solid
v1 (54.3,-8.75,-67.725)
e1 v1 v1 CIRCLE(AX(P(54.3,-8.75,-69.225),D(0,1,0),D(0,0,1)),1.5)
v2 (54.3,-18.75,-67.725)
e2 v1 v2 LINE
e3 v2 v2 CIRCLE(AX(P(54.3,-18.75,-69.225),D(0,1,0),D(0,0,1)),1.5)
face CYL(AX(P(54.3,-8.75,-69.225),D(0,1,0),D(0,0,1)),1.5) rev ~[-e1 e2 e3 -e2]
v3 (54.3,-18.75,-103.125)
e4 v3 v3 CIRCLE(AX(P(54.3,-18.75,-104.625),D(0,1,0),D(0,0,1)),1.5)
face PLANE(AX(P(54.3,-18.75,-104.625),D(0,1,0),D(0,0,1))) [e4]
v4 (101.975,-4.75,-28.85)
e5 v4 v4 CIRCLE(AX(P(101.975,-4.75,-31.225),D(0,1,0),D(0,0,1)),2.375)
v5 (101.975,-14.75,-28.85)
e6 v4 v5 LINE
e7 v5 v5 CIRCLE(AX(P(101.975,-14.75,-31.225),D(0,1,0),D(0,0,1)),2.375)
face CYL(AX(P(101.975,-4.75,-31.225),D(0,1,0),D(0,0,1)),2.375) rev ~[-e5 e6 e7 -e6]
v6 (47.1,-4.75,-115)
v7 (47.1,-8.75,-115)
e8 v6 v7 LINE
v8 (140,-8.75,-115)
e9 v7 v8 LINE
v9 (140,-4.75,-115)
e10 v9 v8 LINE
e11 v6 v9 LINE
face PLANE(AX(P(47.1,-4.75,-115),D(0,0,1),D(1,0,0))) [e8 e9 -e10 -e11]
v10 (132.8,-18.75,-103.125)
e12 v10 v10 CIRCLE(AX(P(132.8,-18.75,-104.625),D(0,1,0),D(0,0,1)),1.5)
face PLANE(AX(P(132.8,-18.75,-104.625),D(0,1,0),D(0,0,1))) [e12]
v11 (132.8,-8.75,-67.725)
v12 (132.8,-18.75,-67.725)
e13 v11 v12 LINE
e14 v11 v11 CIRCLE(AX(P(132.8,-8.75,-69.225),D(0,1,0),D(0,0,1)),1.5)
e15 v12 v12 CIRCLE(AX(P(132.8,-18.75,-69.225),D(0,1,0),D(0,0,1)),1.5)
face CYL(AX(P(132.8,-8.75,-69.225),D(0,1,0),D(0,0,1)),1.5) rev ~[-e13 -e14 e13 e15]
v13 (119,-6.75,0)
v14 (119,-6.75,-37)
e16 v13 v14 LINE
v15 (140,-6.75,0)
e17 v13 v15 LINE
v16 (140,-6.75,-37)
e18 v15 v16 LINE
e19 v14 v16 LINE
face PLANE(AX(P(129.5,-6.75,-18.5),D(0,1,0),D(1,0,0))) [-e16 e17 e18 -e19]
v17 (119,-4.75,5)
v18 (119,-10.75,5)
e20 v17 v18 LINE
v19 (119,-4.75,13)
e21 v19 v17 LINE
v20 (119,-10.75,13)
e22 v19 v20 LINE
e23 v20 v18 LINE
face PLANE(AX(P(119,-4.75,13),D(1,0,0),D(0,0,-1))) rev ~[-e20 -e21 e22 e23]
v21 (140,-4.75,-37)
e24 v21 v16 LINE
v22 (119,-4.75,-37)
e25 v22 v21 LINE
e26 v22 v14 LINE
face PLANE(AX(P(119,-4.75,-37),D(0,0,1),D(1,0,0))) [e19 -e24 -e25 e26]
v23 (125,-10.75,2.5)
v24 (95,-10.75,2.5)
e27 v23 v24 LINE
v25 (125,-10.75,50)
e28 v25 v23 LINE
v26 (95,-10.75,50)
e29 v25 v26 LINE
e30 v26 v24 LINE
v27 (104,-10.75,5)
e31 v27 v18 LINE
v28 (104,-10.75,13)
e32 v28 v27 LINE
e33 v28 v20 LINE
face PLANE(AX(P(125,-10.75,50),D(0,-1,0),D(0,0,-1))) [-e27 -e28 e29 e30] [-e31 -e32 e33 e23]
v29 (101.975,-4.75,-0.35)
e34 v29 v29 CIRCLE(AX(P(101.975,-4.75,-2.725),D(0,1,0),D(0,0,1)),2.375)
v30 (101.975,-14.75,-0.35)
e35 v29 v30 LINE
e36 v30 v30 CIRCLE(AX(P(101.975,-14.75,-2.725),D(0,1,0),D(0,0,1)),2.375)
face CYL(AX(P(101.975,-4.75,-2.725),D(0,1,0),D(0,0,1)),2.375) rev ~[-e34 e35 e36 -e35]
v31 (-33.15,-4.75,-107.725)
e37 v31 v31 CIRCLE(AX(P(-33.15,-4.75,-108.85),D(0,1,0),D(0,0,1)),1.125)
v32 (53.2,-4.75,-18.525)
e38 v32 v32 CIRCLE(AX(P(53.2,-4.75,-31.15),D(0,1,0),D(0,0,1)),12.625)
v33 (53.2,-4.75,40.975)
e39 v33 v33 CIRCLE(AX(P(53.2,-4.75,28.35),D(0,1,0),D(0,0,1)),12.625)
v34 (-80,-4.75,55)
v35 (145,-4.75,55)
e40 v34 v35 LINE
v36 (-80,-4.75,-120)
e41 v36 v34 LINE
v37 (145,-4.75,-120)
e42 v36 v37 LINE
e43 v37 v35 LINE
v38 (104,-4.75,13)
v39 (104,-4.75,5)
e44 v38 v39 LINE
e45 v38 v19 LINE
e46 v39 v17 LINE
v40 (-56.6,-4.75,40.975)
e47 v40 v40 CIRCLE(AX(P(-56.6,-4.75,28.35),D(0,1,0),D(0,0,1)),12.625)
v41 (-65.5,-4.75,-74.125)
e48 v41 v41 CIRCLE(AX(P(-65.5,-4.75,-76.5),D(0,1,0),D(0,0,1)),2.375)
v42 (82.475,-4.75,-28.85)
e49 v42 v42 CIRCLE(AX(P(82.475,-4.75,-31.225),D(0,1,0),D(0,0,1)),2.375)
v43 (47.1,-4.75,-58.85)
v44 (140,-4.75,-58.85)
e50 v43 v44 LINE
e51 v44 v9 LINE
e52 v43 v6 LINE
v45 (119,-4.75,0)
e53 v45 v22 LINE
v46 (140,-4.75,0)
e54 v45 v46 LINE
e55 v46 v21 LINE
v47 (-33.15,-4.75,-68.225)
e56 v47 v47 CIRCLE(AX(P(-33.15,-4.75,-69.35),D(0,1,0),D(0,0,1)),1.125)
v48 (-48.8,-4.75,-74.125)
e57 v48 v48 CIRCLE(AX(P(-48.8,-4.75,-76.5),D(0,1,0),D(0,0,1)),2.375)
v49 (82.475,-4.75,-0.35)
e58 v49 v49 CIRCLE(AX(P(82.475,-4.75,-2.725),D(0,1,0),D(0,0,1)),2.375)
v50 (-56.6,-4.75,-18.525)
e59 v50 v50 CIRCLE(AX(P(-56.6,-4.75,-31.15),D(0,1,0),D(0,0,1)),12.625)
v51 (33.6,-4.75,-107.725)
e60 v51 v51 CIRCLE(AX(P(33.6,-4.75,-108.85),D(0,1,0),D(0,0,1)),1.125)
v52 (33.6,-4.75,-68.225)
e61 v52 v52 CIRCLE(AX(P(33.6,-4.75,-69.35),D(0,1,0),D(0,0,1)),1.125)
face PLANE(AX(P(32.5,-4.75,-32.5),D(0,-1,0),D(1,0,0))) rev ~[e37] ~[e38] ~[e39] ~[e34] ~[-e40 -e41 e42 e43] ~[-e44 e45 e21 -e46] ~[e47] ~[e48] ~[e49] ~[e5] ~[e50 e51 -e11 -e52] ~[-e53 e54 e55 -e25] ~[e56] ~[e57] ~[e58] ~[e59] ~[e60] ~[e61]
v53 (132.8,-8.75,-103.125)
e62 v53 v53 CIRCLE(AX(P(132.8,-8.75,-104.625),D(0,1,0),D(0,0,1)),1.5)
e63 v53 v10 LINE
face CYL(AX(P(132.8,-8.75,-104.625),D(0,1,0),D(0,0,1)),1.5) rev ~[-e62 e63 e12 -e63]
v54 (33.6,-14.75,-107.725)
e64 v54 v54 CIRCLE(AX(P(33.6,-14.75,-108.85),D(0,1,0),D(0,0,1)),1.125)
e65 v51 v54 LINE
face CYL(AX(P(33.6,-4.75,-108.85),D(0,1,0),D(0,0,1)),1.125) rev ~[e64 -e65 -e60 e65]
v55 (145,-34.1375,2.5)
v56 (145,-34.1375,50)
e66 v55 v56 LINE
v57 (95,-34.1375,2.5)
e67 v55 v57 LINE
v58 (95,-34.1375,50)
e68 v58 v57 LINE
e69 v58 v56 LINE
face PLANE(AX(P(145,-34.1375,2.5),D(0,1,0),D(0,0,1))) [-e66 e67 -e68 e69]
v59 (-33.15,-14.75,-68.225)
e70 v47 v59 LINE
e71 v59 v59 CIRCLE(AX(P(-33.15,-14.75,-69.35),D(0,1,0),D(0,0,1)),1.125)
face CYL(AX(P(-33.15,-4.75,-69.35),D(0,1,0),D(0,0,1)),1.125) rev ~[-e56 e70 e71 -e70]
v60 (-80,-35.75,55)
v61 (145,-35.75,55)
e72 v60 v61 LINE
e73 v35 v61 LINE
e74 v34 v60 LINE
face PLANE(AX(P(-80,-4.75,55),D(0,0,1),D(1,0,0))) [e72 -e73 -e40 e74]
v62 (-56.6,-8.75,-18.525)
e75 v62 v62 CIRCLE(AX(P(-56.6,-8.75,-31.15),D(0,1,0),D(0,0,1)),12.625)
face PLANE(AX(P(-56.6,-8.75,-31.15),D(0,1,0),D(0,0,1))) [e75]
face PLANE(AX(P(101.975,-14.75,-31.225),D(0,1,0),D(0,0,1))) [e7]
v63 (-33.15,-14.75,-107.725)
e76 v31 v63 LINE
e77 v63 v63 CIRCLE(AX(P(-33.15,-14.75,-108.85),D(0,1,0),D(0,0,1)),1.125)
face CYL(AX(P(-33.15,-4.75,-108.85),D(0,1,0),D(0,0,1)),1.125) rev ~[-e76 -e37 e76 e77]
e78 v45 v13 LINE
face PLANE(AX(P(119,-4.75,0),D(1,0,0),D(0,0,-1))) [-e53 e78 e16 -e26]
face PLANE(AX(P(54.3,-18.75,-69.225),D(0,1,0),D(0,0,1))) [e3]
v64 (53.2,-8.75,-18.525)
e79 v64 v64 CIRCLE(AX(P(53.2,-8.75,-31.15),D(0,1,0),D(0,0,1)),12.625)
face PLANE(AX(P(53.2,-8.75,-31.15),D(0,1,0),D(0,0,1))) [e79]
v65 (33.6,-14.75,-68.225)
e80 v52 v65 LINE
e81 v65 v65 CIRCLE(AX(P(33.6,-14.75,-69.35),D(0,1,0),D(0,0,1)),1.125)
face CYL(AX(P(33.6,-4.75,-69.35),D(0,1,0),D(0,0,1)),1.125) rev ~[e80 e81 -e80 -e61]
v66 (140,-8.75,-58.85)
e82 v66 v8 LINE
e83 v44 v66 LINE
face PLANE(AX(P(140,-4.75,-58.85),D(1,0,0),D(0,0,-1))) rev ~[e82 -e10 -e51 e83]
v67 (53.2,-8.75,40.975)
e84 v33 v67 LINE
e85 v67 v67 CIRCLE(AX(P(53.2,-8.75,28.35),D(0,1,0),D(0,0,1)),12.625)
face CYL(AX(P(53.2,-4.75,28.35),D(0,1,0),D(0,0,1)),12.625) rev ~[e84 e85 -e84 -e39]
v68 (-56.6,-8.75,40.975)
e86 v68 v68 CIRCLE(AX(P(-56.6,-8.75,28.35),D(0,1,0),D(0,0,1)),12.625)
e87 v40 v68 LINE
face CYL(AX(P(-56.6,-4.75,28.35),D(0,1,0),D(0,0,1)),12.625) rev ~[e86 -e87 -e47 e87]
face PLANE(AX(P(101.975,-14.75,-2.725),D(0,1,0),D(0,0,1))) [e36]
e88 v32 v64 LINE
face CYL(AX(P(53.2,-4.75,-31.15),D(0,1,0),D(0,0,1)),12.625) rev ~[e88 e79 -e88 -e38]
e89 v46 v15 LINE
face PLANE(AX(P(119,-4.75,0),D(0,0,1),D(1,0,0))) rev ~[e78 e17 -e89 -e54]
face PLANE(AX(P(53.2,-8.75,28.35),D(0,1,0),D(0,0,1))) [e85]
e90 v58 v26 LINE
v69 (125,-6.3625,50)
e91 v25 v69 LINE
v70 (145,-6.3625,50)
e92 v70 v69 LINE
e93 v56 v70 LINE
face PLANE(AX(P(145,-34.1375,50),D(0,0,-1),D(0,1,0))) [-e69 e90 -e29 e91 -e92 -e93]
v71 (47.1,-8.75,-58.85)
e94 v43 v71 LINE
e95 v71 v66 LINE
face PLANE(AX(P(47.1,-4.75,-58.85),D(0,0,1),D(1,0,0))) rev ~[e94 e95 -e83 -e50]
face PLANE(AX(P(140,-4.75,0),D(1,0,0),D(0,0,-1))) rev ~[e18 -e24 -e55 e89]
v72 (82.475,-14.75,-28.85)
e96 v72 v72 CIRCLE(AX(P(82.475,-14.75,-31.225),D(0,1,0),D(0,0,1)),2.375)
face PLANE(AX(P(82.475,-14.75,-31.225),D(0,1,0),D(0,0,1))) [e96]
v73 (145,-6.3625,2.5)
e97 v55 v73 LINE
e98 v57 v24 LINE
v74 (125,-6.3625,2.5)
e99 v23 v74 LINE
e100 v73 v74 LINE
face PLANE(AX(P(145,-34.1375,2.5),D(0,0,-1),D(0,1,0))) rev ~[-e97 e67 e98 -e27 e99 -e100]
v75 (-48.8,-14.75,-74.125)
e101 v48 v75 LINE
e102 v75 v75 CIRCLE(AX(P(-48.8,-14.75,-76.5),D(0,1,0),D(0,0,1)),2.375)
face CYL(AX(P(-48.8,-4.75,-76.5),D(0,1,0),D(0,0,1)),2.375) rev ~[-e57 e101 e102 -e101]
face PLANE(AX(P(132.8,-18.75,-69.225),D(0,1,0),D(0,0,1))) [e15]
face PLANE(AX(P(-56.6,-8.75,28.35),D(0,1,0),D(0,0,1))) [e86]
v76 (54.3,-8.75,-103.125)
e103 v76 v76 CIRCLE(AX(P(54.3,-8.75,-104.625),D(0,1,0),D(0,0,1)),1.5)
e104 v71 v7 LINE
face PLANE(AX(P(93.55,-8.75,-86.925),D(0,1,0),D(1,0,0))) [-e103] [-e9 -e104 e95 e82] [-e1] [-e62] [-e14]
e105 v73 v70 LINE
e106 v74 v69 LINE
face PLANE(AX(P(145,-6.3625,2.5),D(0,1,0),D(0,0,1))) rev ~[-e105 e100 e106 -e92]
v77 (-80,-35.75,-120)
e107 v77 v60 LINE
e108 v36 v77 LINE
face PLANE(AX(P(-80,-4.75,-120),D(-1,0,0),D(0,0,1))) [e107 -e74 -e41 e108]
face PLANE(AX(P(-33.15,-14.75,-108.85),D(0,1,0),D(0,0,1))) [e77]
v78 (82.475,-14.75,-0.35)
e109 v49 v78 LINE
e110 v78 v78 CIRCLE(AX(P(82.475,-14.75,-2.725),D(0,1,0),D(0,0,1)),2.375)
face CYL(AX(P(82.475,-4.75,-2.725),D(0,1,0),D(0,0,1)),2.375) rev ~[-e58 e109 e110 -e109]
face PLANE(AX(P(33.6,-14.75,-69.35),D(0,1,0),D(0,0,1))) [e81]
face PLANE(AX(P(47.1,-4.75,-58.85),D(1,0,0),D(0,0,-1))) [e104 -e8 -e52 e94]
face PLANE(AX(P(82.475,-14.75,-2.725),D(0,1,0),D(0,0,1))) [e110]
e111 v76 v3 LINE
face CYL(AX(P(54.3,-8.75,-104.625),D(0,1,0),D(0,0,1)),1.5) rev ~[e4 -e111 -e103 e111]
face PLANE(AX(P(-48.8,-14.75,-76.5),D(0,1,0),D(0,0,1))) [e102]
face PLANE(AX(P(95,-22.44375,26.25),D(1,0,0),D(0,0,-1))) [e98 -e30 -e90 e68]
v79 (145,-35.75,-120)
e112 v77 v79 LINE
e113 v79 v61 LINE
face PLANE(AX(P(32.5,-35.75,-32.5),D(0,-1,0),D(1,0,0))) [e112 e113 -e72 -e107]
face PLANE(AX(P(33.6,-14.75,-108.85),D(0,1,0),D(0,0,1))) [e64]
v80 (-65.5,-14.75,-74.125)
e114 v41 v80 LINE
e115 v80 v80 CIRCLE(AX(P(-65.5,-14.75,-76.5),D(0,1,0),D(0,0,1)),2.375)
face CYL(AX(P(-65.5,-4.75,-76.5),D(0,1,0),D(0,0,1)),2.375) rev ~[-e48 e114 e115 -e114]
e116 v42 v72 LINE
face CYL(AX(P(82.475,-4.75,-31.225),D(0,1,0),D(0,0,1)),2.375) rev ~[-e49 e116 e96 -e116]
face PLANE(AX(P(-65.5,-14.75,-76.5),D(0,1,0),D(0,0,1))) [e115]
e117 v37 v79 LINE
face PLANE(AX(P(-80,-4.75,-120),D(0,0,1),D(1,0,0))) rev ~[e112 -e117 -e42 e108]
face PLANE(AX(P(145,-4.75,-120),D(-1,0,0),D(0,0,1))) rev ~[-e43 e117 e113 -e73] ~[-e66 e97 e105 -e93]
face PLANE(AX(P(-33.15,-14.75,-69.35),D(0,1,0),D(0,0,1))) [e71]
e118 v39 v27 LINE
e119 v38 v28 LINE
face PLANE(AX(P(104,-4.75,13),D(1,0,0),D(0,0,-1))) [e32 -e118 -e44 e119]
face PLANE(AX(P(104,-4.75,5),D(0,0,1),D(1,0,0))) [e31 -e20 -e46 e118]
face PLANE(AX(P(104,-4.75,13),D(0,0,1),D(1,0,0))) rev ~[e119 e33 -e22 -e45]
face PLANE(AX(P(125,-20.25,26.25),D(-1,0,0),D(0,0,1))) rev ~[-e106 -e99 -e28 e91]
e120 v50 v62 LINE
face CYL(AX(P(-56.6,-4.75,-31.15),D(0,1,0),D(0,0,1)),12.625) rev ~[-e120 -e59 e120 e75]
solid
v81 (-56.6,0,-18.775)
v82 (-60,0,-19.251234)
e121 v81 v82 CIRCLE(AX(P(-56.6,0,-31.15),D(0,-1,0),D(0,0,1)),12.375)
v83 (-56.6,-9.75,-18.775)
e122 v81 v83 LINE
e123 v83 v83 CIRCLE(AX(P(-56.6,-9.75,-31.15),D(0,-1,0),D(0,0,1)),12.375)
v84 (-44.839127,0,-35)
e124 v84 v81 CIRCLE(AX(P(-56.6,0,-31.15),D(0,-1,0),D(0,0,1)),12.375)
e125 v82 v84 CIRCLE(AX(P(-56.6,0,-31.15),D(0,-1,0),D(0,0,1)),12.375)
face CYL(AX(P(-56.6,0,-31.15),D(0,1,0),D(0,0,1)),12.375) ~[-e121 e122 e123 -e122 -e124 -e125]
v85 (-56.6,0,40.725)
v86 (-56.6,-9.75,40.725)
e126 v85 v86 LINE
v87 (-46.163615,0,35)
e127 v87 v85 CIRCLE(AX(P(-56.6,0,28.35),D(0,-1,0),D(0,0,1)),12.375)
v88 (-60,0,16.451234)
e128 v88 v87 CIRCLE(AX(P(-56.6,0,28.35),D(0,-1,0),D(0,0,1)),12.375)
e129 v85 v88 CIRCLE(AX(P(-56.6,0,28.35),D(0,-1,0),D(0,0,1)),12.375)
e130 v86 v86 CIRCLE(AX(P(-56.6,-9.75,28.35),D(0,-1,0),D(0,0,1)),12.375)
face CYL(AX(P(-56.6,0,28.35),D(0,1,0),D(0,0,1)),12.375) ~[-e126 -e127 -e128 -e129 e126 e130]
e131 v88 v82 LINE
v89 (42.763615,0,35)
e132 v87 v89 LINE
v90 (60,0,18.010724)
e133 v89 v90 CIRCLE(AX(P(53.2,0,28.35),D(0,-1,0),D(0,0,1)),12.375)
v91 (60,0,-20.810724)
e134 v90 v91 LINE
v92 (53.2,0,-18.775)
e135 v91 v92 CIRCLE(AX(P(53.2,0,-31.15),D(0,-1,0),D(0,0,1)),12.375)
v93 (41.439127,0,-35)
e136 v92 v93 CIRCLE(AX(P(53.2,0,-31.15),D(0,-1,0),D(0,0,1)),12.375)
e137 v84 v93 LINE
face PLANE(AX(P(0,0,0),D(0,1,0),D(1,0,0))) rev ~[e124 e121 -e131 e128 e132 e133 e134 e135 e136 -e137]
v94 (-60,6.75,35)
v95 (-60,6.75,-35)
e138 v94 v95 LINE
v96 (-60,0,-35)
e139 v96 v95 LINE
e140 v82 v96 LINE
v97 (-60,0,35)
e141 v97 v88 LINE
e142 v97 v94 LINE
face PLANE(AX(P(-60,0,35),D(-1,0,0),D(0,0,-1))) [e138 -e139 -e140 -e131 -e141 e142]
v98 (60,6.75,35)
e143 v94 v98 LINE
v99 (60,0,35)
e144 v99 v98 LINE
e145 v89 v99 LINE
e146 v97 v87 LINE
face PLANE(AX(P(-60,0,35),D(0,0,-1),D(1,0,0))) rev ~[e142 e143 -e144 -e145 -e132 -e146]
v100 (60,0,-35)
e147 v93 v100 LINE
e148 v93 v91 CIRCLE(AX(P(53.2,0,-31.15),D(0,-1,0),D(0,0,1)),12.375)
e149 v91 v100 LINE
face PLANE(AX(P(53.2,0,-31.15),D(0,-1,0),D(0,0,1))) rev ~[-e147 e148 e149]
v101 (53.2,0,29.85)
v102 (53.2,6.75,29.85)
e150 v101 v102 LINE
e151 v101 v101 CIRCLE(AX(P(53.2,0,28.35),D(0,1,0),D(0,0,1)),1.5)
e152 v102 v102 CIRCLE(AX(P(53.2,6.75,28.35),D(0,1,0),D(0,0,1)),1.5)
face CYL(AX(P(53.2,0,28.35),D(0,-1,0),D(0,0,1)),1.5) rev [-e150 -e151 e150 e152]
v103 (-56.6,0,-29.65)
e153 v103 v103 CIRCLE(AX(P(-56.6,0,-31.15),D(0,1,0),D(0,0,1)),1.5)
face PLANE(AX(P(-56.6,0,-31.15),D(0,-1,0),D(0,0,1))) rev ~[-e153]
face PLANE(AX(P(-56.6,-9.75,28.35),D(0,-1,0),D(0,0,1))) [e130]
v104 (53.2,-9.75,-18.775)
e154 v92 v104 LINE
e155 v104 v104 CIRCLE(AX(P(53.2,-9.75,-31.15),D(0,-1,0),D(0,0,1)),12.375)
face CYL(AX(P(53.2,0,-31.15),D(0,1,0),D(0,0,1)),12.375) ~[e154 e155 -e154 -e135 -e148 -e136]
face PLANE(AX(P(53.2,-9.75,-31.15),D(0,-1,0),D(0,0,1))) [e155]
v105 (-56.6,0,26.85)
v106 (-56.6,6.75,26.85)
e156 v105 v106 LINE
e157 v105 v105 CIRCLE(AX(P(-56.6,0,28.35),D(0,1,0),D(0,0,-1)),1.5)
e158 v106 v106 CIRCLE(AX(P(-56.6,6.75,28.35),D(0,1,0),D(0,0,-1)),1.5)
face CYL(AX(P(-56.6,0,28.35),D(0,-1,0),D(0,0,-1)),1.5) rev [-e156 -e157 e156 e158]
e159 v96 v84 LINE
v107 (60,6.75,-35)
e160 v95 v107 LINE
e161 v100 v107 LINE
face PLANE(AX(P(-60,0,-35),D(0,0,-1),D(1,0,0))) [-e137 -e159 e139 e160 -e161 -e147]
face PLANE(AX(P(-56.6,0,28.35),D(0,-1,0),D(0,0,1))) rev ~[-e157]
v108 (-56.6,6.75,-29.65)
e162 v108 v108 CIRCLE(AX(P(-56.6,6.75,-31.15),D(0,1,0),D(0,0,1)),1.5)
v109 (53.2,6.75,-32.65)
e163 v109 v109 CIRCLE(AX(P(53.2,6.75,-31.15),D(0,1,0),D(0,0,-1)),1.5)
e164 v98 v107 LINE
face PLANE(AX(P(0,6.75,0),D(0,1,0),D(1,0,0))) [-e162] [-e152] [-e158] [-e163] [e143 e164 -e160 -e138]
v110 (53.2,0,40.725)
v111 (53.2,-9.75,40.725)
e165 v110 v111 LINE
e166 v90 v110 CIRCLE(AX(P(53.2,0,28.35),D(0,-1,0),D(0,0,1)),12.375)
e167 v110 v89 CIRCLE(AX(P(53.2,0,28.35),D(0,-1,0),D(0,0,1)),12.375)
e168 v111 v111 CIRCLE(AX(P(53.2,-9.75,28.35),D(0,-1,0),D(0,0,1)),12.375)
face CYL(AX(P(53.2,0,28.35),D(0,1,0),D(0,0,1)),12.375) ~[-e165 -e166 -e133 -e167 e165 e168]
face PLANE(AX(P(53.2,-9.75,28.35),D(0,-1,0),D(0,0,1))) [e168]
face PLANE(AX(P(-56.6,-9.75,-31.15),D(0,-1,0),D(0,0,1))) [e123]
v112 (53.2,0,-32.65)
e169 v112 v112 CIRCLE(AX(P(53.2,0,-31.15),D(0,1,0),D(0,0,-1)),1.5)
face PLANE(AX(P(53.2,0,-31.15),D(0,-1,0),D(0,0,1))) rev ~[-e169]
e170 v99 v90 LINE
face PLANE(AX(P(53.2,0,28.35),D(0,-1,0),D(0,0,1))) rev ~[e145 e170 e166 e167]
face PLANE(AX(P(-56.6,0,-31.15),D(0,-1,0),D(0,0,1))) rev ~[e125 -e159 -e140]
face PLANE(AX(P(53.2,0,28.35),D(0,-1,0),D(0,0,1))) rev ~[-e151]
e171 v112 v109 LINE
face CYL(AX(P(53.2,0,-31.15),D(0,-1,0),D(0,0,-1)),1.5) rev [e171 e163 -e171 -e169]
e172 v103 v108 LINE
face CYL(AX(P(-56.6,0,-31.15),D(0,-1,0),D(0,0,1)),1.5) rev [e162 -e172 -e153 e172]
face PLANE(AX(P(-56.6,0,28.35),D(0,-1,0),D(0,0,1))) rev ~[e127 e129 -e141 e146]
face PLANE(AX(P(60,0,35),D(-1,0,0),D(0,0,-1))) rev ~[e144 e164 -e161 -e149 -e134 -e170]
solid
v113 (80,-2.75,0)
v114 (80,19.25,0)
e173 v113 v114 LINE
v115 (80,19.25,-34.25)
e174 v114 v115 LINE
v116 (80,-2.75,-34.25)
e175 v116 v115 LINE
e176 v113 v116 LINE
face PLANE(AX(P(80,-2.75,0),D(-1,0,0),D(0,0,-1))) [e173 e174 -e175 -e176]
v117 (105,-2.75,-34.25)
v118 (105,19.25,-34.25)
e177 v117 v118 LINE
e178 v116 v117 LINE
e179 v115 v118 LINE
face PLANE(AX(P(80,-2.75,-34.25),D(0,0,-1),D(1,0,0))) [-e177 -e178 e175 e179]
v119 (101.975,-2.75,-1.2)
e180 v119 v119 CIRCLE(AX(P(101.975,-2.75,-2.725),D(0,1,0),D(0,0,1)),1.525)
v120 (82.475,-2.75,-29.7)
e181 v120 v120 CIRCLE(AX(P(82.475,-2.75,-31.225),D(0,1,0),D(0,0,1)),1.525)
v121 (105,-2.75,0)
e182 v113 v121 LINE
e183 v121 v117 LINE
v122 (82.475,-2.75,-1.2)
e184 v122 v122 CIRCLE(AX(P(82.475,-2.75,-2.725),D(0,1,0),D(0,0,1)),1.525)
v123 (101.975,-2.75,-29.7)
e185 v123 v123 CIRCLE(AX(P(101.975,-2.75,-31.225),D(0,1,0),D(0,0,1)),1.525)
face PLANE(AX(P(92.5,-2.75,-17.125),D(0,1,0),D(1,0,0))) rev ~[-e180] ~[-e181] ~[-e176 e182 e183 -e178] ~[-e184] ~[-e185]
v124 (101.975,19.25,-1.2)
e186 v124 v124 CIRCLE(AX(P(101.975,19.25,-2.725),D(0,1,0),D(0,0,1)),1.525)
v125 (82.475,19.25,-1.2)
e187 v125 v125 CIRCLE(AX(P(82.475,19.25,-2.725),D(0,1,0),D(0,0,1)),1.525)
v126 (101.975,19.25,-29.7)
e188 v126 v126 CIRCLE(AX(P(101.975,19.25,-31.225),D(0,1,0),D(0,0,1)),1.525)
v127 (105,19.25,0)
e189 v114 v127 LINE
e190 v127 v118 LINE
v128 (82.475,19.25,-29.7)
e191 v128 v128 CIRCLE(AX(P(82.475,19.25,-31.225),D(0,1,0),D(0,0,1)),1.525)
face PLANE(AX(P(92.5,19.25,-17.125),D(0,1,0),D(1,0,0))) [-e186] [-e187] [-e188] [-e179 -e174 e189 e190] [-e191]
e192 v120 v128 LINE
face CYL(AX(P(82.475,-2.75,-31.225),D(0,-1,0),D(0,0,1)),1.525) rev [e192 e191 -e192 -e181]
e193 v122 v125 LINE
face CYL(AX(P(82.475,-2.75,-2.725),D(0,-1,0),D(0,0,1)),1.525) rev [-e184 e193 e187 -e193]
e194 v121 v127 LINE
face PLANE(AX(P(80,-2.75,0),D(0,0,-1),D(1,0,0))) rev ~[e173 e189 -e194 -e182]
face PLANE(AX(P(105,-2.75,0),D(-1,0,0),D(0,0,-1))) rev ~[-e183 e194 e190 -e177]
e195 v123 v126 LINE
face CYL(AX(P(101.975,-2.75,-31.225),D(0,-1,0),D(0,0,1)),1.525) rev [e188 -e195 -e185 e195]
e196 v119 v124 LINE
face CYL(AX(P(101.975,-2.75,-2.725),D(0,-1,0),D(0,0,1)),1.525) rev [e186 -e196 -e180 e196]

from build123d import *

# Parameters (mm, degrees)
SKETCH1_W                = 120
SKETCH1_H                = 70
SKETCH1_R                = 1.5
BOSS_EXTRUDE1_DEPTH      = 6.75
SKETCH3_R                = 12.375
BOSS_EXTRUDE2_DEPTH      = 9.75
BOSS_EXTRUDE3_DEPTH      = 26
BOSS_EXTRUDE3_DEPTH_BACK = 5
SKETCH5_W                = 225
SKETCH5_H                = 175
SKETCH8_R                = 12.625
CUT_EXTRUDE3_DEPTH       = 4
BOSS_EXTRUDE4_START      = 2
SKETCH9_W                = 25
SKETCH9_H                = 34.25
SKETCH9_R                = 1.525
BOSS_EXTRUDE4_DEPTH      = 22
SKETCH10_R               = 2.375
CUT_EXTRUDE11_DEPTH      = 10
SKETCH12_W               = 21
SKETCH12_H               = 37
CUT_EXTRUDE4_DEPTH       = 2
SKETCH11_W               = 92.9
SKETCH11_H               = 56.15
CUT_EXTRUDE8_DEPTH       = 4
SKETCH18_R               = 1.5
CUT_EXTRUDE12_DEPTH      = 10
SKETCH19_R               = 1.125
CUT_EXTRUDE13_DEPTH      = 10
SKETCH20_R               = 2.375
CUT_EXTRUDE15_DEPTH      = 10
SKETCH22_W               = 47.5
SKETCH22_H               = 27.775
CUT_EXTRUDE16_DEPTH      = 20
SKETCH23_W               = 15
SKETCH23_H               = 8
CUT_EXTRUDE17_DEPTH      = 29.3875
SKETCH24_W               = 47.5
SKETCH24_H               = 23.3875
CUT_EXTRUDE18_DEPTH      = 30


with BuildPart() as part:
    # Sketch1 → Boss-Extrude1 (new body)
    with BuildSketch(Plane(origin=(0, 0, 0), x_dir=(1, 0, 0), z_dir=(0, 1, 0))):
        Rectangle(SKETCH1_W, SKETCH1_H)
        with Locations(Location((-56.6, 31.15, 0), (0, 0, 270))):
            Circle(SKETCH1_R, mode=Mode.SUBTRACT)
        with Locations(Location((53.2, 31.15, 0), (0, 0, 90))):
            Circle(SKETCH1_R, mode=Mode.SUBTRACT)
        with Locations(Location((53.2, -28.35, 0), (0, 0, 270))):
            Circle(SKETCH1_R, mode=Mode.SUBTRACT)
        with Locations(Location((-56.6, -28.35, 0), (0, 0, 90))):
            Circle(SKETCH1_R, mode=Mode.SUBTRACT)
    extrude(amount=BOSS_EXTRUDE1_DEPTH)

    # Sketch3 → Boss-Extrude2 (add)
    with BuildSketch(Plane.XZ):
        with Locations(Location((-56.6, 28.35, 0), (0, 0, 90))):
            Circle(SKETCH3_R)
        with Locations(Location((53.2, 28.35, 0), (0, 0, 90))):
            Circle(SKETCH3_R)
        with Locations(Location((53.2, -31.15, 0), (0, 0, 90))):
            Circle(SKETCH3_R)
        with Locations(Location((-56.6, -31.15, 0), (0, 0, 90))):
            Circle(SKETCH3_R)
    extrude(amount=BOSS_EXTRUDE2_DEPTH)


with BuildPart() as body_2:
    # Sketch5 → Boss-Extrude3 (new, two sides: drawn at the far end of the back side and taken through both)
    with BuildSketch(Plane.XZ.offset(9.75).offset(-BOSS_EXTRUDE3_DEPTH_BACK)):
        with Locations((32.5, -32.5)):
            Rectangle(SKETCH5_W, SKETCH5_H)
    extrude(amount=BOSS_EXTRUDE3_DEPTH + BOSS_EXTRUDE3_DEPTH_BACK)

    # Sketch8 → Cut-Extrude3 (cut)
    with BuildSketch(Plane(origin=(0, -4.75, 0), x_dir=(1, 0, 0), z_dir=(0, 1, 0))):
        with Locations(Location((53.2, 31.15, 0), (0, 0, 270))):
            Circle(SKETCH8_R)
        with Locations(Location((-56.6, 31.15, 0), (0, 0, 270))):
            Circle(SKETCH8_R)
        with Locations(Location((-56.6, -28.35, 0), (0, 0, 270))):
            Circle(SKETCH8_R)
        with Locations(Location((53.2, -28.35, 0), (0, 0, 270))):
            Circle(SKETCH8_R)
    extrude(amount=-CUT_EXTRUDE3_DEPTH, mode=Mode.SUBTRACT)

    # Sketch10 → Cut-Extrude11 (cut)
    with BuildSketch(Plane(origin=(0, -4.75, 0), x_dir=(1, 0, 0), z_dir=(0, 1, 0))):
        with Locations(Location((101.975, 31.225, 0), (0, 0, 270))):
            Circle(SKETCH10_R)
        with Locations(Location((82.475, 31.225, 0), (0, 0, 270))):
            Circle(SKETCH10_R)
        with Locations(Location((101.975, 2.725, 0), (0, 0, 270))):
            Circle(SKETCH10_R)
        with Locations(Location((82.475, 2.725, 0), (0, 0, 270))):
            Circle(SKETCH10_R)
    extrude(amount=-CUT_EXTRUDE11_DEPTH, mode=Mode.SUBTRACT)

    # Sketch12 → Cut-Extrude4 (cut)
    with BuildSketch(Plane(origin=(0, -4.75, 0), x_dir=(1, 0, 0), z_dir=(0, 1, 0))):
        with Locations((129.5, 18.5)):
            Rectangle(SKETCH12_W, SKETCH12_H)
    extrude(amount=-CUT_EXTRUDE4_DEPTH, mode=Mode.SUBTRACT)

    # Sketch11 → Cut-Extrude8 (cut)
    with BuildSketch(Plane(origin=(0, -4.75, 0), x_dir=(1, 0, 0), z_dir=(0, 1, 0))):
        with Locations((93.55, 86.925)):
            Rectangle(SKETCH11_W, SKETCH11_H)
    extrude(amount=-CUT_EXTRUDE8_DEPTH, mode=Mode.SUBTRACT)

    # Sketch18 → Cut-Extrude12 (cut)
    with BuildSketch(Plane(origin=(0, -8.75, 0), x_dir=(1, 0, 0), z_dir=(0, 1, 0))):
        with Locations(Location((54.3, 104.625, 0), (0, 0, 270))):
            Circle(SKETCH18_R)
        with Locations(Location((54.3, 69.225, 0), (0, 0, 270))):
            Circle(SKETCH18_R)
        with Locations(Location((132.8, 69.225, 0), (0, 0, 270))):
            Circle(SKETCH18_R)
        with Locations(Location((132.8, 104.625, 0), (0, 0, 270))):
            Circle(SKETCH18_R)
    extrude(amount=-CUT_EXTRUDE12_DEPTH, mode=Mode.SUBTRACT)

    # Sketch19 → Cut-Extrude13 (cut)
    with BuildSketch(Plane(origin=(0, -4.75, 0), x_dir=(1, 0, 0), z_dir=(0, 1, 0))):
        with Locations(Location((33.6, 69.35, 0), (0, 0, 270))):
            Circle(SKETCH19_R)
        with Locations(Location((-33.15, 69.35, 0), (0, 0, 270))):
            Circle(SKETCH19_R)
        with Locations(Location((-33.15, 108.85, 0), (0, 0, 270))):
            Circle(SKETCH19_R)
        with Locations(Location((33.6, 108.85, 0), (0, 0, 270))):
            Circle(SKETCH19_R)
    extrude(amount=-CUT_EXTRUDE13_DEPTH, mode=Mode.SUBTRACT)

    # Sketch20 → Cut-Extrude15 (cut)
    with BuildSketch(Plane(origin=(0, -4.75, 0), x_dir=(1, 0, 0), z_dir=(0, 1, 0))):
        with Locations(Location((-48.8, 76.5, 0), (0, 0, 270))):
            Circle(SKETCH20_R)
        with Locations(Location((-65.5, 76.5, 0), (0, 0, 270))):
            Circle(SKETCH20_R)
    extrude(amount=-CUT_EXTRUDE15_DEPTH, mode=Mode.SUBTRACT)

    # Sketch22 → Cut-Extrude16 (cut)
    with BuildSketch(Plane.ZY.offset(-145)):
        with Locations((26.25, -20.25)):
            Rectangle(SKETCH22_W, SKETCH22_H)
    extrude(amount=CUT_EXTRUDE16_DEPTH, mode=Mode.SUBTRACT)

    # Sketch23 → Cut-Extrude17 (cut)
    with BuildSketch(Plane(origin=(0, -4.75, 0), x_dir=(1, 0, 0), z_dir=(0, 1, 0))):
        with Locations((111.5, -9)):
            Rectangle(SKETCH23_W, SKETCH23_H)
    extrude(amount=-CUT_EXTRUDE17_DEPTH, mode=Mode.SUBTRACT)

    # Sketch24 → Cut-Extrude18 (cut)
    with BuildSketch(Plane(origin=(125, 0, 0), x_dir=(0, 0, -1), z_dir=(1, 0, 0))):
        with Locations((-26.25, -22.44375)):
            Rectangle(SKETCH24_W, SKETCH24_H)
    extrude(amount=-CUT_EXTRUDE18_DEPTH, mode=Mode.SUBTRACT)


with BuildPart() as body_3:
    # Sketch9 → Boss-Extrude4 (new body)
    with BuildSketch(Plane(origin=(0, -4.75, 0), x_dir=(1, 0, 0), z_dir=(0, 1, 0)).offset(BOSS_EXTRUDE4_START)):
        with Locations((92.5, 17.125)):
            Rectangle(SKETCH9_W, SKETCH9_H)
        with Locations(Location((101.975, 2.725, 0), (0, 0, 270))):
            Circle(SKETCH9_R, mode=Mode.SUBTRACT)
        with Locations(Location((82.475, 2.725, 0), (0, 0, 270))):
            Circle(SKETCH9_R, mode=Mode.SUBTRACT)
        with Locations(Location((82.475, 31.225, 0), (0, 0, 270))):
            Circle(SKETCH9_R, mode=Mode.SUBTRACT)
        with Locations(Location((101.975, 31.225, 0), (0, 0, 270))):
            Circle(SKETCH9_R, mode=Mode.SUBTRACT)
    extrude(amount=BOSS_EXTRUDE4_DEPTH)


solid = Compound([part.part, body_2.part, body_3.part])
